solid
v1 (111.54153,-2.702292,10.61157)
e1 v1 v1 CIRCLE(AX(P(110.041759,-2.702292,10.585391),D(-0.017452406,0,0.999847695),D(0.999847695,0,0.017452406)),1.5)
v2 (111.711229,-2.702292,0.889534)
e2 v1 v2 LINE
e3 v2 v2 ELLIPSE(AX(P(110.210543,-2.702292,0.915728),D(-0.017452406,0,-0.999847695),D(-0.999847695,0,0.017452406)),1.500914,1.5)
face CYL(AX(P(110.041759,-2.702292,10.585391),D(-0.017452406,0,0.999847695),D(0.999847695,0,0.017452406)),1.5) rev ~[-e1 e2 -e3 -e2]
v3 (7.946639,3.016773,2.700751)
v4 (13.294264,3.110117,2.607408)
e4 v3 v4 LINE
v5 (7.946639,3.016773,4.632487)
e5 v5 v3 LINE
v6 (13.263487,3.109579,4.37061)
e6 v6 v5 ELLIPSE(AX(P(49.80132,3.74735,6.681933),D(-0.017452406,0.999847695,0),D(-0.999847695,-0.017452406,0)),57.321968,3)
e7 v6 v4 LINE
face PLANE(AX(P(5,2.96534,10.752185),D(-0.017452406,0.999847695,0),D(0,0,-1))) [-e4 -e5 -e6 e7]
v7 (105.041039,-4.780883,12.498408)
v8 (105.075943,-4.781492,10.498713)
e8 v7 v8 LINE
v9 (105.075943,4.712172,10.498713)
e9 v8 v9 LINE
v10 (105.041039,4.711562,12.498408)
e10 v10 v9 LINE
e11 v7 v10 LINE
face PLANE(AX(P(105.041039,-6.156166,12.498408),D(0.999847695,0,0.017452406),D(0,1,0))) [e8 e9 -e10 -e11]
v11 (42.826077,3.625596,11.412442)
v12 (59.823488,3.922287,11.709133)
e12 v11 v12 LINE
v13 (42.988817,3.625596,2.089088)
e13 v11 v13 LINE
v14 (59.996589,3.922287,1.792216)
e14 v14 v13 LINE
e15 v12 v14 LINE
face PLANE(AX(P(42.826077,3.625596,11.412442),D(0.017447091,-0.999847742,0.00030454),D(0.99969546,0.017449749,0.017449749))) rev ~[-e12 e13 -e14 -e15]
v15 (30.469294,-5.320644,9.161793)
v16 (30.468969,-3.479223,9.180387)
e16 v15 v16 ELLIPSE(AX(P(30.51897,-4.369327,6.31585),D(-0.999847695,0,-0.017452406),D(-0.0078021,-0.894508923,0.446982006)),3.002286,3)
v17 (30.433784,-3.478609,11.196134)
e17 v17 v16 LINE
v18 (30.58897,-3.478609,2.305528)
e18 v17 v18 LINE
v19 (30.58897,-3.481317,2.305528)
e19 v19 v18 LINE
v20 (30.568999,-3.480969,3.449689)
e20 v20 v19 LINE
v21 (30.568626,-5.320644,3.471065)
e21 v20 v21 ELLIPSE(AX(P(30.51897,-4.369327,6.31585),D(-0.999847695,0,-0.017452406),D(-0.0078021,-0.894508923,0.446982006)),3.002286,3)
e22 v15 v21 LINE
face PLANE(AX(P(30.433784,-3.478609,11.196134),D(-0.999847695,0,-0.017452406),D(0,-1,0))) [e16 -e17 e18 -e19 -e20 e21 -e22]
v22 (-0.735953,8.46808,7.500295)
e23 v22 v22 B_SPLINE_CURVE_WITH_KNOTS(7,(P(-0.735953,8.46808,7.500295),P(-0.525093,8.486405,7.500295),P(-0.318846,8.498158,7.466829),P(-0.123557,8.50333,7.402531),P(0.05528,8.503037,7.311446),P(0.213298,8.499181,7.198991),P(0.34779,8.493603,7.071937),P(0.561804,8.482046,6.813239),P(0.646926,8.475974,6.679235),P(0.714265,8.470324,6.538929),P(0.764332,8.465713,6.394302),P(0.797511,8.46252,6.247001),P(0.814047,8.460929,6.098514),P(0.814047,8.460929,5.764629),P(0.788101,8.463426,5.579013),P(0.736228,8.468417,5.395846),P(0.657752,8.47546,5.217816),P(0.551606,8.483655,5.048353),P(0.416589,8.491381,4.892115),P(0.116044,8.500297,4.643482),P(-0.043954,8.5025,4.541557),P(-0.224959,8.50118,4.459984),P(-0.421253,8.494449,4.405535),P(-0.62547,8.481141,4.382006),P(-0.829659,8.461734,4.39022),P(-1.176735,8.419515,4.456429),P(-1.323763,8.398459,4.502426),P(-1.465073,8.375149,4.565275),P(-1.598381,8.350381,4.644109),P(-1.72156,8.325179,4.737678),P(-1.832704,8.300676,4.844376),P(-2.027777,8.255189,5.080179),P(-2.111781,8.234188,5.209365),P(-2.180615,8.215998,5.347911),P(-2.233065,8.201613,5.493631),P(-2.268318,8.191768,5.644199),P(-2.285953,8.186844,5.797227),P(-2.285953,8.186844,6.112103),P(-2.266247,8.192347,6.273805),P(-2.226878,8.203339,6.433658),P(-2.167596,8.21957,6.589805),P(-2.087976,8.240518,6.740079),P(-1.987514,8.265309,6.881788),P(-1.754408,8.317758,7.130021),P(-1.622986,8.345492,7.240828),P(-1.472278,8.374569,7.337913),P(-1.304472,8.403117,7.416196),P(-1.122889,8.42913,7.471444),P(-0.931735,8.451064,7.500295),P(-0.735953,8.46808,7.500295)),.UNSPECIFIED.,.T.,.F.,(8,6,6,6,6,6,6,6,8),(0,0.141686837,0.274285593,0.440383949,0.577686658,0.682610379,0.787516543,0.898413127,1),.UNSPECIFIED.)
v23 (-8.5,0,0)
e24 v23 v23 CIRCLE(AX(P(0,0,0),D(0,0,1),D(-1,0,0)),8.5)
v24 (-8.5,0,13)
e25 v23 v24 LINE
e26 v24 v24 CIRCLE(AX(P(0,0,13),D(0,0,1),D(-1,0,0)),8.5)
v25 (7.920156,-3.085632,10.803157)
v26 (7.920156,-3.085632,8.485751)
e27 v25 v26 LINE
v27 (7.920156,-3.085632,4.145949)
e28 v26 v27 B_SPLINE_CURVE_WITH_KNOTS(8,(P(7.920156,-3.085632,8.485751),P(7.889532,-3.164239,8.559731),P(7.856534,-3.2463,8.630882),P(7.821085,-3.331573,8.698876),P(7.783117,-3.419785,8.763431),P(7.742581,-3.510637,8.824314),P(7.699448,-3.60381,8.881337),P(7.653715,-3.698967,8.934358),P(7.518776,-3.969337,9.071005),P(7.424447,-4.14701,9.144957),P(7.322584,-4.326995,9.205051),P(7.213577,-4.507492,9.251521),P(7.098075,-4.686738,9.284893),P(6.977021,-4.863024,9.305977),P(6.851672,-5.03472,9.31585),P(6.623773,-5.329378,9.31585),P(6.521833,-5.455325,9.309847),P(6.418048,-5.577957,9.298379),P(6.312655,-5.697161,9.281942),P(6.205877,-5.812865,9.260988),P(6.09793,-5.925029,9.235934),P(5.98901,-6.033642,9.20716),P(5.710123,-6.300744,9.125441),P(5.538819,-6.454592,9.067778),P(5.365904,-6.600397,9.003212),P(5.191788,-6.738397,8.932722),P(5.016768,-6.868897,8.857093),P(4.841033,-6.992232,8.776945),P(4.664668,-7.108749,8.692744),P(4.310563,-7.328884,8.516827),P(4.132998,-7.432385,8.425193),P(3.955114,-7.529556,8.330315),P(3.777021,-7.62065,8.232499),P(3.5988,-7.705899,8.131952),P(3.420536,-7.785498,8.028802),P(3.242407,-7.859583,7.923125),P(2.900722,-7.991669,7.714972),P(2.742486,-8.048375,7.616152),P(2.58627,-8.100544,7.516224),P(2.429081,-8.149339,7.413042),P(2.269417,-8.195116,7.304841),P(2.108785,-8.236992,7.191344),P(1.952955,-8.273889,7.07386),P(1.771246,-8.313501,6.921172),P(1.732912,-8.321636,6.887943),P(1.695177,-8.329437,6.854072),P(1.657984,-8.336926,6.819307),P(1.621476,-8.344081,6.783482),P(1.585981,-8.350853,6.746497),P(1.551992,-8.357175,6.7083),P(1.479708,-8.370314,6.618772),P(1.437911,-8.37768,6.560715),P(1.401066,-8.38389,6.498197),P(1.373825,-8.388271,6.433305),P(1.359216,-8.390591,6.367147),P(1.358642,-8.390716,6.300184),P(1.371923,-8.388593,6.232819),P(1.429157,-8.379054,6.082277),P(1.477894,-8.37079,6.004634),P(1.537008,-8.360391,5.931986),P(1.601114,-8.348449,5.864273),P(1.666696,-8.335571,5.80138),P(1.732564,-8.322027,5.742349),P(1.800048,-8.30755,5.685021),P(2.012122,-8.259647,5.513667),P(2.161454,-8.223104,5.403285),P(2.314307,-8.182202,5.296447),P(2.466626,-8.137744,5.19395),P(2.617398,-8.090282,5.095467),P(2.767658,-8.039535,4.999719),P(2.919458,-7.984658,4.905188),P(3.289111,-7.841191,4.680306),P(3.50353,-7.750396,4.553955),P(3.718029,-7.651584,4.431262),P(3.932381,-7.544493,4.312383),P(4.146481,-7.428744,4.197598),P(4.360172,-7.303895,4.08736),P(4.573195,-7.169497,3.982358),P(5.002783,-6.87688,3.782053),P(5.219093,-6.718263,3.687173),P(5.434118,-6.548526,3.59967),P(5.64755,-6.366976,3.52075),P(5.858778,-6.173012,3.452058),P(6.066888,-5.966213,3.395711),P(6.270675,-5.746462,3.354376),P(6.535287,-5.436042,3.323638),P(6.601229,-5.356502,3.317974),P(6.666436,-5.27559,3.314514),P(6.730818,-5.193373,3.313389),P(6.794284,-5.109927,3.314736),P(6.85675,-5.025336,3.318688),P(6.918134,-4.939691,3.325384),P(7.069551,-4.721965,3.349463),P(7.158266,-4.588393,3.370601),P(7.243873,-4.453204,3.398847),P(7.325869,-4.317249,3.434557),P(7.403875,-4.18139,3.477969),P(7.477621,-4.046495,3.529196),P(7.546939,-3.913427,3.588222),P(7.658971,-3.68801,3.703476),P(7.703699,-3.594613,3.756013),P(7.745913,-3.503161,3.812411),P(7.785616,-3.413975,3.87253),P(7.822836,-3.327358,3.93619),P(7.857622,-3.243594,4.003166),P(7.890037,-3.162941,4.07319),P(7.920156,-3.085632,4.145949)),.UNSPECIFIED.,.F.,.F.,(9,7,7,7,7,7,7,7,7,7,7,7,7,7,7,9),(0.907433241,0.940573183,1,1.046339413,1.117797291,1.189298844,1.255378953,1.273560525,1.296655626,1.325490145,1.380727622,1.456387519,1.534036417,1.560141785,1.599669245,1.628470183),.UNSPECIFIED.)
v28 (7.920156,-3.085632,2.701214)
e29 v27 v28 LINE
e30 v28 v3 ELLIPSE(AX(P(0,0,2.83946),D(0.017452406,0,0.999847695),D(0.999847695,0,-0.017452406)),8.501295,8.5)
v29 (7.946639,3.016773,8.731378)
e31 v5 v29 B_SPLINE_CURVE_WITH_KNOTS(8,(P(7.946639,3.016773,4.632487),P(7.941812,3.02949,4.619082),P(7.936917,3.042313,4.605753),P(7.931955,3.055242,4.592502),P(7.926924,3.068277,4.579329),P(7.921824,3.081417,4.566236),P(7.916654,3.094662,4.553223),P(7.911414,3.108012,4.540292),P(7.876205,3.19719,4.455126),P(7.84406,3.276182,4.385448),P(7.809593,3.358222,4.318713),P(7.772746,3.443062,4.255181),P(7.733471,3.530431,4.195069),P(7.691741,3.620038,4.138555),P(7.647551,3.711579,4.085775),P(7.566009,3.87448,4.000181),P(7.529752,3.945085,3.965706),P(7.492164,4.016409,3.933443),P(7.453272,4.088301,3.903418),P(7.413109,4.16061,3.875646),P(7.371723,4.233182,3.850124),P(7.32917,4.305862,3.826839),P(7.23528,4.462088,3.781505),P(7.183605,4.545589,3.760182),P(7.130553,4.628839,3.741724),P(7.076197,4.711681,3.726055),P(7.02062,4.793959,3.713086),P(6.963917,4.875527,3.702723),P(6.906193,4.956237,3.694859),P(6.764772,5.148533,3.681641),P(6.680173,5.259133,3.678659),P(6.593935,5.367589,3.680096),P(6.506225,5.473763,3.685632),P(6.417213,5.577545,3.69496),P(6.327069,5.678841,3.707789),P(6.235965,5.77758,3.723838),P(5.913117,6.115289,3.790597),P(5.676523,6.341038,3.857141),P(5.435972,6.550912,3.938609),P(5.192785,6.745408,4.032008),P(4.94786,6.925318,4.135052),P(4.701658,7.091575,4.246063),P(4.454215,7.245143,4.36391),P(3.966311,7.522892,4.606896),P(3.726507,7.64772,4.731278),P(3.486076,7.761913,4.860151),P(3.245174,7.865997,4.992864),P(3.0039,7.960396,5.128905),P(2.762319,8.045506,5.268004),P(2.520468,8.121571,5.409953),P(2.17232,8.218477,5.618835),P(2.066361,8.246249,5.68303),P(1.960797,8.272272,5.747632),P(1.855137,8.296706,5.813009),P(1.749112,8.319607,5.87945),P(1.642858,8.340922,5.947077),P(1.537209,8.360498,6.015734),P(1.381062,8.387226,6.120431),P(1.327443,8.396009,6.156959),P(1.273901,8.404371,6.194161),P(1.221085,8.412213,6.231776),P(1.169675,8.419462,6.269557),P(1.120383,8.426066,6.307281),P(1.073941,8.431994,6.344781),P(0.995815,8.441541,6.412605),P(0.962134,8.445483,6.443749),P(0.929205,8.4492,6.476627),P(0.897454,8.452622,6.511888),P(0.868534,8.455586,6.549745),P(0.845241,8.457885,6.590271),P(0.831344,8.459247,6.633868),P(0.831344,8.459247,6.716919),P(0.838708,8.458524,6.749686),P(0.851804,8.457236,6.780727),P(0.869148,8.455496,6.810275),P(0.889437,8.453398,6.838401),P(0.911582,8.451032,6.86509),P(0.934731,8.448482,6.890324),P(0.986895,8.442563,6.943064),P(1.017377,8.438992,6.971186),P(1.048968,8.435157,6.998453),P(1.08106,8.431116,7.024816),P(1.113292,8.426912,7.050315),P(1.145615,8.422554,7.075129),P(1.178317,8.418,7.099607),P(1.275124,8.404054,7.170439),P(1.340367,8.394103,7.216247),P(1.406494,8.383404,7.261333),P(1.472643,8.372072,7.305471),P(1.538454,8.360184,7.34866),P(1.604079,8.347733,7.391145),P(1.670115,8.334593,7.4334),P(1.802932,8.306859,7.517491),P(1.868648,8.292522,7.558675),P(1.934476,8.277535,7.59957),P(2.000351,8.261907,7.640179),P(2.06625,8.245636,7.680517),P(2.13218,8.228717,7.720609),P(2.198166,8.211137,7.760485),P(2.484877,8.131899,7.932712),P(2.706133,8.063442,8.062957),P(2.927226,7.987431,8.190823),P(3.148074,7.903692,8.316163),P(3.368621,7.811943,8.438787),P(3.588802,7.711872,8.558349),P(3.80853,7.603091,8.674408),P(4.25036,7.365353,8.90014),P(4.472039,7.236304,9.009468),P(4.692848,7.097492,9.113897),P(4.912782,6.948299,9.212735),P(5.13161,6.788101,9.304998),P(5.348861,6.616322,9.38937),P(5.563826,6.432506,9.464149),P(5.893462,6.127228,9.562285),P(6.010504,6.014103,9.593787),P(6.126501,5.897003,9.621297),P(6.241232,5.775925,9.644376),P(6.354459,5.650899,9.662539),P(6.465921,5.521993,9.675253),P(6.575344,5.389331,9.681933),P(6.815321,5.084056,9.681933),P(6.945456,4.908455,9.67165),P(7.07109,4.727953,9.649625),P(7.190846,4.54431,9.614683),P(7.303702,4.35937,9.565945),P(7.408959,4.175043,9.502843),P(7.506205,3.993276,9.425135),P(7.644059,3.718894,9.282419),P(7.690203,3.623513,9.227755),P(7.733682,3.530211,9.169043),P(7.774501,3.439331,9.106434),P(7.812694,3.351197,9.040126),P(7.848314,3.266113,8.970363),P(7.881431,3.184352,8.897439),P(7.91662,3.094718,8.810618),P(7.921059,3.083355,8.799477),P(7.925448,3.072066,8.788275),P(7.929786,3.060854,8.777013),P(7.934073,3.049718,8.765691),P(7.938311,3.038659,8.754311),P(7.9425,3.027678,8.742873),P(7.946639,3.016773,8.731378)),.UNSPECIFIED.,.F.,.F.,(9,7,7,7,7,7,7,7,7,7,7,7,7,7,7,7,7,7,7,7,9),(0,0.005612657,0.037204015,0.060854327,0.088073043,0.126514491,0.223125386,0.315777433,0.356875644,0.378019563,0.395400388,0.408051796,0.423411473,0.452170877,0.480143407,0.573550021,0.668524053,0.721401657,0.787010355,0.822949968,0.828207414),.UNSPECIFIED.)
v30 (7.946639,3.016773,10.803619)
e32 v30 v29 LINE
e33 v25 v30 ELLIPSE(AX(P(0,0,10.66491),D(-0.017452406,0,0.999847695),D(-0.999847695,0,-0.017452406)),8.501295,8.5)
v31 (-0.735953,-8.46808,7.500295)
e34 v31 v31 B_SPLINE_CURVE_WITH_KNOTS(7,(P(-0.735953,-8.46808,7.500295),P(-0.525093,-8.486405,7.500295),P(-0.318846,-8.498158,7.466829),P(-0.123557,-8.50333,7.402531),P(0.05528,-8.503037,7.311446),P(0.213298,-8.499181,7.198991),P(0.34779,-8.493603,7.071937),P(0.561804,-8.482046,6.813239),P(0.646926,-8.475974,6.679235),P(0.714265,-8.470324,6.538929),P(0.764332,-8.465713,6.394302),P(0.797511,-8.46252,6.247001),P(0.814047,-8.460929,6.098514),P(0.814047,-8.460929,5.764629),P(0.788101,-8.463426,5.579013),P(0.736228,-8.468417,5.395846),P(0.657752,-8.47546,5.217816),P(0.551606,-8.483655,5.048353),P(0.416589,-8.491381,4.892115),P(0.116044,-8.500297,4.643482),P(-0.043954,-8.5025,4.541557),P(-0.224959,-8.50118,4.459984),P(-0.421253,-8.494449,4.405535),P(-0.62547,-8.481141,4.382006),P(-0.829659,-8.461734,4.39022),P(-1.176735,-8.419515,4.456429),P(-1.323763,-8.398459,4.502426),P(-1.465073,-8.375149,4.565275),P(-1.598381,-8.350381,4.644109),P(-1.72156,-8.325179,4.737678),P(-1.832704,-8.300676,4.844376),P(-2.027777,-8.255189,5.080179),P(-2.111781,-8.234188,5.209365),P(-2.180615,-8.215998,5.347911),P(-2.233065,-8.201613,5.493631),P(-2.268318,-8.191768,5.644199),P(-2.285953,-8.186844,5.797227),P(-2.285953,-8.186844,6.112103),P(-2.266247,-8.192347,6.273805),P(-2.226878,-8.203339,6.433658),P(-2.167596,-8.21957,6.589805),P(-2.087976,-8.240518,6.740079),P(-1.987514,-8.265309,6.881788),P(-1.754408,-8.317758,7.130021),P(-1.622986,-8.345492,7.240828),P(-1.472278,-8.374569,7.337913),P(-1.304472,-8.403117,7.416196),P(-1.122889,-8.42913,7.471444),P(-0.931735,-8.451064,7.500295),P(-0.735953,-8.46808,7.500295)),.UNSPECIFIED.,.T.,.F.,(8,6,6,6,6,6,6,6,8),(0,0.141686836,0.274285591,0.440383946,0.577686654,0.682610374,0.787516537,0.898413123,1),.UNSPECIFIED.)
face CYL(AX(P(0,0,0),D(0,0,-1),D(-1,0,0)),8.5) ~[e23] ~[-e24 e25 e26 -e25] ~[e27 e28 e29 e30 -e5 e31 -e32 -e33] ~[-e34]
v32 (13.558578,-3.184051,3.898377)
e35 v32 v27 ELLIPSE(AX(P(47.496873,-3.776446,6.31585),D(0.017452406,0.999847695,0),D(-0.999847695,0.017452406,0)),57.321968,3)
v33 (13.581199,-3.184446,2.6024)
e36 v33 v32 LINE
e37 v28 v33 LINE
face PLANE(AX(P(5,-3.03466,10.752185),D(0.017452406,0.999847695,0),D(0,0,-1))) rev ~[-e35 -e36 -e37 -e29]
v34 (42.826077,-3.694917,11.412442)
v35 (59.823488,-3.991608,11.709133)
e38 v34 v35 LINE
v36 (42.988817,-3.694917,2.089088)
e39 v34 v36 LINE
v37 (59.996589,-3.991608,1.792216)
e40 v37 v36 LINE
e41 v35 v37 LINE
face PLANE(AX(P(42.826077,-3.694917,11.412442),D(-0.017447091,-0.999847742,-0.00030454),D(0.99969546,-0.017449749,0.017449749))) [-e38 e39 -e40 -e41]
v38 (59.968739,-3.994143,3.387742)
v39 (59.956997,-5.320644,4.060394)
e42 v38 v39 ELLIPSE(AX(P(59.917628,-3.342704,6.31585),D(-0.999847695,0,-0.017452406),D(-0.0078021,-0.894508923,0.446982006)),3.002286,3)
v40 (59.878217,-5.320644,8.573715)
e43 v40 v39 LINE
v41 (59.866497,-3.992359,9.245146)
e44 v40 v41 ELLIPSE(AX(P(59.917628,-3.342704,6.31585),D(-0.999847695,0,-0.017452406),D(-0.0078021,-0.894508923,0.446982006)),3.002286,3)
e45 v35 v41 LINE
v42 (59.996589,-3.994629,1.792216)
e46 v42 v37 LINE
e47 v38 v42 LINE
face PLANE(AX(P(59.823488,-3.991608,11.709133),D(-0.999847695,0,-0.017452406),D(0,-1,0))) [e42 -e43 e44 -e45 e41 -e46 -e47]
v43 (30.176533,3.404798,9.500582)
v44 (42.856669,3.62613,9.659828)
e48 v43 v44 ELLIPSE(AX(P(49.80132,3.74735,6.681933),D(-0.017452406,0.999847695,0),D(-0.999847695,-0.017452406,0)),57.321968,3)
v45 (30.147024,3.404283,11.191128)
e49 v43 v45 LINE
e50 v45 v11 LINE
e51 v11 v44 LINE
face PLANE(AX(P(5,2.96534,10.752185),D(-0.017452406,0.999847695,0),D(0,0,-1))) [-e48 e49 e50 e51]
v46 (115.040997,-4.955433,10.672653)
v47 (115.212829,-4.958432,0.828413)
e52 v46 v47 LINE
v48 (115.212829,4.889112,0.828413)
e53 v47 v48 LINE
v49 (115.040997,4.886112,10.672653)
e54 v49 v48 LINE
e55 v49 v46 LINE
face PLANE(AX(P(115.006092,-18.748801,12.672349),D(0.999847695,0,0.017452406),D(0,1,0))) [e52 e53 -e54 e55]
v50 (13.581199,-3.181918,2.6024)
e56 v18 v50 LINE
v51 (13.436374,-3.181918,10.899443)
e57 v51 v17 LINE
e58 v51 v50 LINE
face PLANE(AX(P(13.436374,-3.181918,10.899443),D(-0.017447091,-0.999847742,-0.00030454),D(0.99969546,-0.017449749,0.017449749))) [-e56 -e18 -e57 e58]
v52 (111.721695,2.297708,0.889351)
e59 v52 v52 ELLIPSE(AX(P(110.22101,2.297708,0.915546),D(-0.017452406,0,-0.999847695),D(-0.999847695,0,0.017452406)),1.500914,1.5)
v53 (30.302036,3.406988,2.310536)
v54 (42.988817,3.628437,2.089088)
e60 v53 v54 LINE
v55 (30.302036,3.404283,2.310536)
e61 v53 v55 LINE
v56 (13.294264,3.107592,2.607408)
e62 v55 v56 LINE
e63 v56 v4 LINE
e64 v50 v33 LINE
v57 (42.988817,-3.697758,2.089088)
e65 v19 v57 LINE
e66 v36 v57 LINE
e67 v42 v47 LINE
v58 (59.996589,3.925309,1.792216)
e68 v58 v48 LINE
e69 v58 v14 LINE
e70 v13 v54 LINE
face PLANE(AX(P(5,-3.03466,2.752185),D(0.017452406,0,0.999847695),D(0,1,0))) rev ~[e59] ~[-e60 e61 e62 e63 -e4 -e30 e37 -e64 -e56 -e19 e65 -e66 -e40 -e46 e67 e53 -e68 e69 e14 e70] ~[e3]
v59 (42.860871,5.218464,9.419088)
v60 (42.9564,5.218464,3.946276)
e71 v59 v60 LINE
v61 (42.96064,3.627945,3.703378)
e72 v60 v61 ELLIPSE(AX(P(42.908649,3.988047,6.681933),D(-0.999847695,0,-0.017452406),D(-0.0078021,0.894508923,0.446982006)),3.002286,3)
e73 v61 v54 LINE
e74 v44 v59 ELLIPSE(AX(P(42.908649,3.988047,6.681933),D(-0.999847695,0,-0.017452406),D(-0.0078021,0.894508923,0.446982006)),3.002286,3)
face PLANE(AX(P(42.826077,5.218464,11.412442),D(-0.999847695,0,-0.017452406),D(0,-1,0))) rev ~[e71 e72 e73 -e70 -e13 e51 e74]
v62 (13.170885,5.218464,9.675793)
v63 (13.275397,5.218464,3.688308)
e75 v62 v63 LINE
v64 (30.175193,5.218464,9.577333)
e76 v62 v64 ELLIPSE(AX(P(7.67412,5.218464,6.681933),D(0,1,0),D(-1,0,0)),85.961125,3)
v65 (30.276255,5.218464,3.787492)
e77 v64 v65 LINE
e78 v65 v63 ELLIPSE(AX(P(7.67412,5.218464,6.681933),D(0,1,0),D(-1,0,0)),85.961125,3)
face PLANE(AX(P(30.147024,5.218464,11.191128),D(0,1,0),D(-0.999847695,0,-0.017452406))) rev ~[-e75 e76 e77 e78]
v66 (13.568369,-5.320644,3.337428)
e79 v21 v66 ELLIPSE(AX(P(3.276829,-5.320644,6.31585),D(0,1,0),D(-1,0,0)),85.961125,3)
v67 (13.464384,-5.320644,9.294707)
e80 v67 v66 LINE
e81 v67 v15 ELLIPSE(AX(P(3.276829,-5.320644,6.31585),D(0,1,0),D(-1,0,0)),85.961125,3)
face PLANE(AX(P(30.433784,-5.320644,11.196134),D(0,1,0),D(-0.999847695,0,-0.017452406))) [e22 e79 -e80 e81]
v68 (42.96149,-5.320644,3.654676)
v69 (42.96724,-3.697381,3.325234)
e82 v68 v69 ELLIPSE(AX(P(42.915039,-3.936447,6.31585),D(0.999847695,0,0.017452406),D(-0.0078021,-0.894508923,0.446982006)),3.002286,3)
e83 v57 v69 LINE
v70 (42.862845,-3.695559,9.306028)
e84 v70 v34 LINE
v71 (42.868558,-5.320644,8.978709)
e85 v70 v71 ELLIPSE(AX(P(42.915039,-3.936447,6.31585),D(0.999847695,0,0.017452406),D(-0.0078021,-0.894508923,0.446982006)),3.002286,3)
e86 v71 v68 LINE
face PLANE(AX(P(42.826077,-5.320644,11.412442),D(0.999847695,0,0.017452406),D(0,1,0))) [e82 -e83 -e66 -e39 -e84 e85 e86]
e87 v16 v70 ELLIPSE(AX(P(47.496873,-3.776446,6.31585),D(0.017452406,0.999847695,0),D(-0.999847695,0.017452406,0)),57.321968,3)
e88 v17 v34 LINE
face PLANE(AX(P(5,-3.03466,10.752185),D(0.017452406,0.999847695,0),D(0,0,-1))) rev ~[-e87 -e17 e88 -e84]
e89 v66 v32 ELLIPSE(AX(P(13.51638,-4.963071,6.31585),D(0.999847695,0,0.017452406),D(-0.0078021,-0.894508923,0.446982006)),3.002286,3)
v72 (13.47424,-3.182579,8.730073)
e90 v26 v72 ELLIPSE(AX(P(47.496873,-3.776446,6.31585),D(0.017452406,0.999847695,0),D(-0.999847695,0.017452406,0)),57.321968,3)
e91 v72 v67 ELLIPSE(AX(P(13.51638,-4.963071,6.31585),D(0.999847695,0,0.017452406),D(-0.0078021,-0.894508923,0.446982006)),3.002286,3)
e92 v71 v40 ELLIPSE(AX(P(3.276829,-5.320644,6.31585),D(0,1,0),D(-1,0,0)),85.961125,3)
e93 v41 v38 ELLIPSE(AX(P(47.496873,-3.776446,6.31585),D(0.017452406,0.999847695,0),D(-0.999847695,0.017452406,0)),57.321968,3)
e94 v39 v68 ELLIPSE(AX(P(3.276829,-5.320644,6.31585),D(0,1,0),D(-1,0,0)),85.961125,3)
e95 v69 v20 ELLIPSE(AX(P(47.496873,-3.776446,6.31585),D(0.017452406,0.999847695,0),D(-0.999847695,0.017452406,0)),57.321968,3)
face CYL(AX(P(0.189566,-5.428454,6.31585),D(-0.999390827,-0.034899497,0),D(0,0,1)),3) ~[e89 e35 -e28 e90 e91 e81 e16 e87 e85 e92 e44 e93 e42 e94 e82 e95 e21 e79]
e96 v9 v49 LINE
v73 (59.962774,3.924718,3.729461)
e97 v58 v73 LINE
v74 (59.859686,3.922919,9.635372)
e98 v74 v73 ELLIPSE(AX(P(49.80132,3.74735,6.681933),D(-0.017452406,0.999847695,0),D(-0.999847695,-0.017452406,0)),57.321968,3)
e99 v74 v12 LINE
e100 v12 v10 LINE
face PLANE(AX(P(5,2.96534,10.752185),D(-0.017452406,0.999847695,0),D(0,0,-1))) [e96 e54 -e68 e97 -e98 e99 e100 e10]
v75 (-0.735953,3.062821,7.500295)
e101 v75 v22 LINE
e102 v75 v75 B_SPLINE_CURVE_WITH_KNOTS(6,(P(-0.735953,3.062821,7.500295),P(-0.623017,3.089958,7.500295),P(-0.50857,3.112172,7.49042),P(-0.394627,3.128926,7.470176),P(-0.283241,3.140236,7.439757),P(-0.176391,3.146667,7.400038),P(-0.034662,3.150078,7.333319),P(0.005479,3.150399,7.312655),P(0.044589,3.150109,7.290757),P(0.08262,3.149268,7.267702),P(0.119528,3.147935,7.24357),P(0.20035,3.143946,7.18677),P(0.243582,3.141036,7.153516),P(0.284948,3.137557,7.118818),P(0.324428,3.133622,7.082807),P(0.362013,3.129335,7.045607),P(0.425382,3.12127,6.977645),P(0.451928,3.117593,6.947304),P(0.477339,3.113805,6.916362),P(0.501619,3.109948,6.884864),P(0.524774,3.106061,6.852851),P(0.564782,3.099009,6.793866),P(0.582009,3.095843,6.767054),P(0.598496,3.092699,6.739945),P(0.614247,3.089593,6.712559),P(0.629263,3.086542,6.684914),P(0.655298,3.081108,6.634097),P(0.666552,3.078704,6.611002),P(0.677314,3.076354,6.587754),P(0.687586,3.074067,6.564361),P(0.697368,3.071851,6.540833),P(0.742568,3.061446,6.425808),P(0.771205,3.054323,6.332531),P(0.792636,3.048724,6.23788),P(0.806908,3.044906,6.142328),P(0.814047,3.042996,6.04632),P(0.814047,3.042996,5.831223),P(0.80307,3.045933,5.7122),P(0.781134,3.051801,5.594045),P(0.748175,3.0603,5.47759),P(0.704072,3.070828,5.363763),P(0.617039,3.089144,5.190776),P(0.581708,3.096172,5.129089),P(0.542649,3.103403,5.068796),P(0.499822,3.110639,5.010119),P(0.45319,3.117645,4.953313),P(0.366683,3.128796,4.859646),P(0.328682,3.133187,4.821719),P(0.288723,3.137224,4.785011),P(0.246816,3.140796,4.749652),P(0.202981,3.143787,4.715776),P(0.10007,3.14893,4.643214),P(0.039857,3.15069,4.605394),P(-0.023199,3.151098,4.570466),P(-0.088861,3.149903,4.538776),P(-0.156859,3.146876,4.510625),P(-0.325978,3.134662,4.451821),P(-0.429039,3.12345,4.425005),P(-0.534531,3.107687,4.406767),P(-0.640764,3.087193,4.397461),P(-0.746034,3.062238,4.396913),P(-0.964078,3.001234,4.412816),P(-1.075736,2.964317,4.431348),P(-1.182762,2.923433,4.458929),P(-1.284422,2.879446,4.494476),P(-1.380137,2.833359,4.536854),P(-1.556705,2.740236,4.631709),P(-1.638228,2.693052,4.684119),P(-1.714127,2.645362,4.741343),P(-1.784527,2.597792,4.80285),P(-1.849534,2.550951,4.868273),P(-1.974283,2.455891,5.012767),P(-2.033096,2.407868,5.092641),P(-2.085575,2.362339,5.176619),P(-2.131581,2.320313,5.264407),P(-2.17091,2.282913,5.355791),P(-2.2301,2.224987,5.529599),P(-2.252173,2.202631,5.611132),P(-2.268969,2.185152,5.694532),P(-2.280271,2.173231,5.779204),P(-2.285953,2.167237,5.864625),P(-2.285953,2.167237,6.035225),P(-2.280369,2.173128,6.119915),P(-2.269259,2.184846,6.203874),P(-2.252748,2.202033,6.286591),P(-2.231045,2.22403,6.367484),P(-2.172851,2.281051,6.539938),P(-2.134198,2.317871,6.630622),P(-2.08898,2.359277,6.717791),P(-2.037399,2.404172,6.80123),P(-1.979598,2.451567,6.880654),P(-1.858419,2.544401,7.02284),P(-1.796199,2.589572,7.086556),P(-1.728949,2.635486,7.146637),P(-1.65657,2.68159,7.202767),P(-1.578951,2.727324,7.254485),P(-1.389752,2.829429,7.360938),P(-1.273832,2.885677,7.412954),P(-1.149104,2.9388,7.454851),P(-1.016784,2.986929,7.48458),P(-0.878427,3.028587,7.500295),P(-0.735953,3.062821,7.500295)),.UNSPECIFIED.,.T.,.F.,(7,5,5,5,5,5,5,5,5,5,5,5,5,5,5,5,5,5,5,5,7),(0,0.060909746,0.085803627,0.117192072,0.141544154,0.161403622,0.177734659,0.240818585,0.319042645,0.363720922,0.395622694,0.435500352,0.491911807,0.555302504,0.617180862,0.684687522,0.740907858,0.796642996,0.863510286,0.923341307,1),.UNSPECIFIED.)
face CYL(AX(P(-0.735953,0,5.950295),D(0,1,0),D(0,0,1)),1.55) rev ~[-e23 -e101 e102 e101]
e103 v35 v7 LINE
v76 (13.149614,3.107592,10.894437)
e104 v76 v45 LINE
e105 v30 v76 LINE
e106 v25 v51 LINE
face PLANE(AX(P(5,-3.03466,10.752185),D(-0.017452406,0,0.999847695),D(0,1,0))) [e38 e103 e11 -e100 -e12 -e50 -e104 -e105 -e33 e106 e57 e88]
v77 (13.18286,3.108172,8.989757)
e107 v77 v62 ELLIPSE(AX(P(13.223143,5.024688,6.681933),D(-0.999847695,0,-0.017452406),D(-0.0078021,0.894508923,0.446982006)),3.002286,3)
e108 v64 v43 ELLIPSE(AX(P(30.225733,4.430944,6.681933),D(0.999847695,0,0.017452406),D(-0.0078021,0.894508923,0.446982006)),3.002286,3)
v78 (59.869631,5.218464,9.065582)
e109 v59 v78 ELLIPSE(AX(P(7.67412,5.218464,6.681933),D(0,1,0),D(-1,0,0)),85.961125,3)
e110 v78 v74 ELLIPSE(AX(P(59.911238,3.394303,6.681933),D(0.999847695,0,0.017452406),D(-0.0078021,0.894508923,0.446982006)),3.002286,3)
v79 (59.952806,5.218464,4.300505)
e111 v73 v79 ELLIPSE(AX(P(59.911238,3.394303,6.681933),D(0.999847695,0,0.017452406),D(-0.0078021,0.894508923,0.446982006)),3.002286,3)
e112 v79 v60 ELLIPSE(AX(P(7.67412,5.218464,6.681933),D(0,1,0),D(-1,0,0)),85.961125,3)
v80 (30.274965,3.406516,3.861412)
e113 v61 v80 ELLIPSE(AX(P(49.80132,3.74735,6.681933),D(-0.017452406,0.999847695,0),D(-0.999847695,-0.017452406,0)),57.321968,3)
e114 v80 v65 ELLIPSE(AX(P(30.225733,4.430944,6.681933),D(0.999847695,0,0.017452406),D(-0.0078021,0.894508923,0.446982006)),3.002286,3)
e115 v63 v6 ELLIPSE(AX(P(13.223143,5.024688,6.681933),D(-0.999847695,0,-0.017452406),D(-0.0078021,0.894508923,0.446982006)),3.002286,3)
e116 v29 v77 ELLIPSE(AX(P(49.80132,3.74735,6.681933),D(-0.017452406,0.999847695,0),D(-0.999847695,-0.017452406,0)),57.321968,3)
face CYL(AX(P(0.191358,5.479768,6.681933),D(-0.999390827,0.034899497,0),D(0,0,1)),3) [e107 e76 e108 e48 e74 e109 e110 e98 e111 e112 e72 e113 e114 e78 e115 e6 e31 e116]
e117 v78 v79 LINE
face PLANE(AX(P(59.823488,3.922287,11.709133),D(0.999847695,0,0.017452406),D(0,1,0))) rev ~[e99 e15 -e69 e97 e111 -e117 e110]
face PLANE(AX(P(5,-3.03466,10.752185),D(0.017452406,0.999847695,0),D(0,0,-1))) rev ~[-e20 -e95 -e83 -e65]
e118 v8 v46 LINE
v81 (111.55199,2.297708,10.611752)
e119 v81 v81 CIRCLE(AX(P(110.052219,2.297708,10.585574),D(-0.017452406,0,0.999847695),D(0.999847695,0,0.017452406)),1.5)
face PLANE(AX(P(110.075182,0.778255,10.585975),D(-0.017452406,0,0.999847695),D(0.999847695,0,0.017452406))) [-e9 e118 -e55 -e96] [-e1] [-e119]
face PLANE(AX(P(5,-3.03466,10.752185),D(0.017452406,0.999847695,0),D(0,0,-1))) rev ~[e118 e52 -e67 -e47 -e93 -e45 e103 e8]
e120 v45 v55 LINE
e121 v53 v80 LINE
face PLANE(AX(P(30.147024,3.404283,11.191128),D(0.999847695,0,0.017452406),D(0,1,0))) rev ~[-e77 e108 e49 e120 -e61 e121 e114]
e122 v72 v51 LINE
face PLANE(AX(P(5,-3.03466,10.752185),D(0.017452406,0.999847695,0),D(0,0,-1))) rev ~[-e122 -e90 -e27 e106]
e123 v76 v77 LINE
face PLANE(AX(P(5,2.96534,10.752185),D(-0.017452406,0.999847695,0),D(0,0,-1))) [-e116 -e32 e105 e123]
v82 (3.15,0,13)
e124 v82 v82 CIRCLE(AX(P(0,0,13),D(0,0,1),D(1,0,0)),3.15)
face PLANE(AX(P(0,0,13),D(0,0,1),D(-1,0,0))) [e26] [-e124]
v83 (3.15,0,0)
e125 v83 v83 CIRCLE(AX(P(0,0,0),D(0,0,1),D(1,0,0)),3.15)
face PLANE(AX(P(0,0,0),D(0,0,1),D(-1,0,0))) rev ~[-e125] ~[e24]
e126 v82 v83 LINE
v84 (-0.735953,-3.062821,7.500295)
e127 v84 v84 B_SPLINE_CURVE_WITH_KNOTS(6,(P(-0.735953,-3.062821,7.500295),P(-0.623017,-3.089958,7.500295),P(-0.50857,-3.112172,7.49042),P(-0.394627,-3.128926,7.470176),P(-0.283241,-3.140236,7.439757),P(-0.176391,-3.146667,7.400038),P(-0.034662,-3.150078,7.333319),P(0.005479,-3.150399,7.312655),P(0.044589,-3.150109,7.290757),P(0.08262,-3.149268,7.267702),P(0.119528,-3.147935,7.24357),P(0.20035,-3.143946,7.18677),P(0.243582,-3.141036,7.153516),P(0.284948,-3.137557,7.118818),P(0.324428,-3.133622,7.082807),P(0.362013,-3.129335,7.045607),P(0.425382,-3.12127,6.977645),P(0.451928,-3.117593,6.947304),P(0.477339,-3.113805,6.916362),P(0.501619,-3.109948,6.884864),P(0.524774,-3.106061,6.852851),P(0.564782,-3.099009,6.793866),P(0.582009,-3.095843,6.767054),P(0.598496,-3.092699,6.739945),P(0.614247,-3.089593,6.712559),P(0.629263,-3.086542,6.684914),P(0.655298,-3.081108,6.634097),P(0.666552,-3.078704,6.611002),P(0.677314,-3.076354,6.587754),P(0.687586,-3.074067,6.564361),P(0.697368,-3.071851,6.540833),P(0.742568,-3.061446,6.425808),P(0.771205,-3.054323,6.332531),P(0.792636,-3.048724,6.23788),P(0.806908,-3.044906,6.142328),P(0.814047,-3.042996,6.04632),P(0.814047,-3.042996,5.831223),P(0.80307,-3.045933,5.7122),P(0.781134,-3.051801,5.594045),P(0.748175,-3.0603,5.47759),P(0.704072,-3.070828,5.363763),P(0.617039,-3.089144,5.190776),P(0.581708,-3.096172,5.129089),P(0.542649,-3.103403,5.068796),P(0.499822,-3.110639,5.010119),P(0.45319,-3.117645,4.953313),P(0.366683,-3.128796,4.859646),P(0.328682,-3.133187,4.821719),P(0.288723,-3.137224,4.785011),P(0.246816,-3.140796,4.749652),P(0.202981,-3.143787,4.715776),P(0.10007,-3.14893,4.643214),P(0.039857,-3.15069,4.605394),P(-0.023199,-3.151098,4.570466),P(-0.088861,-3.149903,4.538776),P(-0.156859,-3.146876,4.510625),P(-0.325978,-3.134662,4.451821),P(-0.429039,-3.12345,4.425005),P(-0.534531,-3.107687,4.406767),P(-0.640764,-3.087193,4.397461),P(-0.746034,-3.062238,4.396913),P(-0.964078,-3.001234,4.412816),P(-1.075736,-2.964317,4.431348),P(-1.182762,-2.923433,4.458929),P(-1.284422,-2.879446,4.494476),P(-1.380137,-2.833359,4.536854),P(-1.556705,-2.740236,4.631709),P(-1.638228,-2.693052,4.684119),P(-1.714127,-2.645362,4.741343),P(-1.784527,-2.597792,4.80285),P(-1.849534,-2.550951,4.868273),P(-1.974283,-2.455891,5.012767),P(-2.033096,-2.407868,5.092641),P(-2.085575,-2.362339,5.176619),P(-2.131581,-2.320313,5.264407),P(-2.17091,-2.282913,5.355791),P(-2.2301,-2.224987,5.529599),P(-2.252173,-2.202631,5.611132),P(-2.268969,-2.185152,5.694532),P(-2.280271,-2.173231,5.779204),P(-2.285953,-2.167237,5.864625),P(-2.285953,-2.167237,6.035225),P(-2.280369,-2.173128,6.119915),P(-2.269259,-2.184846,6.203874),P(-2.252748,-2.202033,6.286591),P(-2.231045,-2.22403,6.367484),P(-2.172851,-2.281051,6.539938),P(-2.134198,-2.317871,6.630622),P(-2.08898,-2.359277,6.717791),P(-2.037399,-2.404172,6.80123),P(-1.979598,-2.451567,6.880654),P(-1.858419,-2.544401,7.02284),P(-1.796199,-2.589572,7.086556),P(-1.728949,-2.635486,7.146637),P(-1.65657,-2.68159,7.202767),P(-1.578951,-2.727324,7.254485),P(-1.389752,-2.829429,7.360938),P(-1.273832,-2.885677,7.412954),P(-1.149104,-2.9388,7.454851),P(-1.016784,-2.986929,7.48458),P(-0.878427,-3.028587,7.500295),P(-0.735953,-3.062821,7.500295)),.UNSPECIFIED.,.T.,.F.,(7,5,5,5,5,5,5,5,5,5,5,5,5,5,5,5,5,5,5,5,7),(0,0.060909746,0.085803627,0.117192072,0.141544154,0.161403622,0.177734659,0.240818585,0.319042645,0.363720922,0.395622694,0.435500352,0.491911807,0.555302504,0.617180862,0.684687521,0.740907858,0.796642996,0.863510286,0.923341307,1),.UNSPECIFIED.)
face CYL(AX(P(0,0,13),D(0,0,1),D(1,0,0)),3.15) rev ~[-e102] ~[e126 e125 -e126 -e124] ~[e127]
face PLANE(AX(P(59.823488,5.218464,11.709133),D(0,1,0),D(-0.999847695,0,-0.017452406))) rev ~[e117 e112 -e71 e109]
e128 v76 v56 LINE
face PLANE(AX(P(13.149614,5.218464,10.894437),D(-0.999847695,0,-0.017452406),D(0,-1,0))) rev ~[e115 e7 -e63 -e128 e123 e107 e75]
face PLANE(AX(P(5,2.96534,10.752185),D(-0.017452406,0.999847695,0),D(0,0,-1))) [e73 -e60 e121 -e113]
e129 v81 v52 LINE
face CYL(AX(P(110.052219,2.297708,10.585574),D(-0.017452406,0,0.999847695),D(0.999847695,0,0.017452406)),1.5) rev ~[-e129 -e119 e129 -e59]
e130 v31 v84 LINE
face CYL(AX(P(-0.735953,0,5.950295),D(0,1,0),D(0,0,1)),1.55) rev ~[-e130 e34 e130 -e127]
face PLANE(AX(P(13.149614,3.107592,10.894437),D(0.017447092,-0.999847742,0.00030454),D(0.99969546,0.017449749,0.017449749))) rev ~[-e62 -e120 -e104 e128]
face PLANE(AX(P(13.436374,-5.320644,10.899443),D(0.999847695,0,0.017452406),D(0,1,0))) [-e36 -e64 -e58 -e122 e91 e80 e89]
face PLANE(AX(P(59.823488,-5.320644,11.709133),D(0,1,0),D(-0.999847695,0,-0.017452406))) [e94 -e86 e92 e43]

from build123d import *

# Parameters (mm, degrees)
SKETCH2_R           = 8.5
BOSS_EXTRUDE1_DEPTH = 13
SKETCH4_W           = 8
SKETCH4_H           = 6
BOSS_EXTRUDE2_DEPTH = 150
BOSS_EXTRUDE2_DRAFT = -1
SKETCH6_R           = 3
BOSS_EXTRUDE3_DEPTH = 120
SKETCH7_R           = 3
BOSS_EXTRUDE4_DEPTH = 120
CUT_EXTRUDE2_REACH  = 157.776
SKETCH8_R           = 3.15
CUT_EXTRUDE3_REACH  = 157.784
CUT_EXTRUDE6_REACH  = 158.041
SKETCH12_W          = 10
SKETCH12_H          = 2.051798714
CUT_EXTRUDE7_REACH  = 157.784
SKETCH13_W          = 43.706918827
SKETCH13_H          = 28.028328295
SKETCH14_W          = 10
SKETCH14_H          = 13.868841859
CUT_EXTRUDE8_DEPTH  = 2
CUT_EXTRUDE9_REACH  = 118.001
SKETCH15_R          = 1.5
SKETCH16_R          = 1.55
CUT_EXTRUDE10_DEPTH = 10


with BuildPart() as part:
    # Sketch2 → Boss-Extrude1 (new body)
    with BuildSketch(Plane.XY):
        with Locations(Location((0, 0, 0), (0, 0, 180))):
            Circle(SKETCH2_R)
    extrude(amount=BOSS_EXTRUDE1_DEPTH)


with BuildPart() as boss_extrude2_tool:
    # Sketch4 → Boss-Extrude2 (with draft: the straight prism first)
    with BuildSketch(Plane(origin=(5, 0, 0), x_dir=(0, 0, -1), z_dir=(1, 0, 0))):
        with Locations((-6.752185146, -0.034660359)):
            Rectangle(SKETCH4_W, SKETCH4_H)
    extrude(amount=BOSS_EXTRUDE2_DEPTH)
    # Boss-Extrude2: the draft: its side faces are tilted about the plane it starts from
    boss_extrude2_sides = [boss_extrude2_tool.faces().sort_by_distance(p)[0] for p in [
        (80, -0.034660359, 10.752185146),
        (80, -3.034660359, 6.752185146),
        (80, -0.034660359, 2.752185146),
        (80, 2.965339641, 6.752185146),
    ]]
    draft(boss_extrude2_sides, Plane(origin=(5, 0, 0), x_dir=(0, 0, -1), z_dir=(1, 0, 0)), BOSS_EXTRUDE2_DRAFT)


with BuildPart() as part_1:
    add(part.part)

    # Boss-Extrude2: add boss_extrude2_tool
    add(boss_extrude2_tool.part)

    # Sketch6 → Boss-Extrude3 (add)
    with BuildSketch(Plane(origin=(0, 0, 0), x_dir=(0, 0, 1), z_dir=(-0.999390827019096, 0.034899496702494044, 0))):
        with Locations((6.68193283, 5.483107785)):
            Circle(SKETCH6_R)
    extrude(amount=-BOSS_EXTRUDE3_DEPTH)

    # Sketch7 → Boss-Extrude4 (add)
    with BuildSketch(Plane(origin=(0, 0, 0), x_dir=(0, 0, 1), z_dir=(0.9993908270190958, 0.034899496702501046, 0))):
        with Locations((6.315850074, 5.431762479)):
            Circle(SKETCH7_R)
    extrude(amount=BOSS_EXTRUDE4_DEPTH)

    # Sketch8 → Cut-Extrude2 (cut, up to next)
    with BuildSketch(Plane.XY.offset(13), mode=Mode.PRIVATE) as cut_extrude2_sk1:
        Circle(SKETCH8_R)
    cut_extrude2_tool1 = extrude(cut_extrude2_sk1.sketch, amount=-CUT_EXTRUDE2_REACH, mode=Mode.PRIVATE) & part_1.part
    add(cut_extrude2_tool1.solids().sort_by_distance((0, 0, 13))[0], mode=Mode.SUBTRACT)

    # Sketch9 → Cut-Extrude3 (cut, up to next)
    with BuildSketch(Plane(origin=(-0.186099993, 0, 10.661661434), x_dir=(0.9998476951563913, 0, 0.01745240643728355), z_dir=(-0.01745240643728355, 0, 0.9998476951563913)), mode=Mode.PRIVATE) as cut_extrude3_sk1:
        Polygon((13.337744906, 3.107591674), (30.337744906, 3.404282584), (30.337744906, 5.218463822), (13.337744906, 5.218463822), align=None)
    cut_extrude3_tool1 = extrude(cut_extrude3_sk1.sketch, amount=-CUT_EXTRUDE3_REACH, mode=Mode.PRIVATE) & part_1.part
    # Sketch9 → Cut-Extrude3 (cut, up to next)
    with BuildSketch(Plane(origin=(-0.186099993, 0, 10.661661434), x_dir=(0.9998476951563913, 0, 0.01745240643728355), z_dir=(-0.01745240643728355, 0, 0.9998476951563913)), mode=Mode.PRIVATE) as cut_extrude3_sk2:
        Polygon((43.018729252, 3.625596277), (60.018729252, 3.922287186), (60.018729252, 5.218463822), (43.018729252, 5.218463822), align=None)
    cut_extrude3_tool2 = extrude(cut_extrude3_sk2.sketch, amount=-CUT_EXTRUDE3_REACH, mode=Mode.PRIVATE) & part_1.part
    # Sketch9 → Cut-Extrude3 (cut, up to next)
    with BuildSketch(Plane(origin=(-0.186099993, 0, 10.661661434), x_dir=(0.9998476951563913, 0, 0.01745240643728355), z_dir=(-0.01745240643728355, 0, 0.9998476951563913)), mode=Mode.PRIVATE) as cut_extrude3_sk3:
        Polygon((13.624548626, -3.181917807), (30.624548626, -3.478608716), (30.624548626, -5.320643976), (13.624548626, -5.320643976), align=None)
    cut_extrude3_tool3 = extrude(cut_extrude3_sk3.sketch, amount=-CUT_EXTRUDE3_REACH, mode=Mode.PRIVATE) & part_1.part
    # Sketch9 → Cut-Extrude3 (cut, up to next)
    with BuildSketch(Plane(origin=(-0.186099993, 0, 10.661661434), x_dir=(0.9998476951563913, 0, 0.01745240643728355), z_dir=(-0.01745240643728355, 0, 0.9998476951563913)), mode=Mode.PRIVATE) as cut_extrude3_sk4:
        Polygon((43.018729252, -3.694916994), (60.018729252, -3.991607903), (60.018729252, -5.320643976), (43.018729252, -5.320643976), align=None)
    cut_extrude3_tool4 = extrude(cut_extrude3_sk4.sketch, amount=-CUT_EXTRUDE3_REACH, mode=Mode.PRIVATE) & part_1.part
    add(cut_extrude3_tool1.solids().sort_by_distance((21.434183, 4.235332, 11.039045))[0], mode=Mode.SUBTRACT)
    add(cut_extrude3_tool2.solids().sort_by_distance((51.033857, 4.493664, 11.555709))[0], mode=Mode.SUBTRACT)
    add(cut_extrude3_tool3.solids().sort_by_distance((21.723939, -4.323611, 11.044103))[0], mode=Mode.SUBTRACT)
    add(cut_extrude3_tool4.solids().sort_by_distance((51.040328, -4.579471, 11.555822))[0], mode=Mode.SUBTRACT)

    # Cut-Extrude6: up to this plane
    cut_extrude6_end = Plane(origin=(5, -3.034660359, 10.752185146), z_dir=(-0.01745240643728355, -0.9998476951563913, 0))
    # Sketch12 → Cut-Extrude6 (cut, up to the surface)
    with BuildSketch(Plane(origin=(-0.050221498, 2.877187697, 0), x_dir=(0.9998476951563913, 0.01745240643728355, 0), z_dir=(-0.01745240643728355, 0.9998476951563913, 0)), mode=Mode.PRIVATE) as cut_extrude6_sk1:
        with Locations((141.40635612, -10.3349379)):
            Rectangle(SKETCH12_W, SKETCH12_H)
    cut_extrude6_tool1 = split(extrude(cut_extrude6_sk1.sketch, amount=-CUT_EXTRUDE6_REACH, mode=Mode.PRIVATE), bisect_by=cut_extrude6_end, keep=Keep.BOTH, mode=Mode.PRIVATE)
    add(cut_extrude6_tool1.solids().sort_by_distance((141.334598, 5.345069, 10.334938))[0], mode=Mode.SUBTRACT)

    # Cut-Extrude7: up to this plane
    cut_extrude7_end = Plane(origin=(5, 2.965339641, 2.752185146), z_dir=(-0.01745240643728355, 0, -0.9998476951563913))
    # Sketch13 → Cut-Extrude7 (cut, up to the surface)
    with BuildSketch(Plane(origin=(-0.186099993, 0, 10.661661434), x_dir=(0.9998476951563913, 0, 0.01745240643728355), z_dir=(-0.01745240643728355, 0, 0.9998476951563913)), mode=Mode.PRIVATE) as cut_extrude7_sk1:
        with Locations((137.063198602, -4.734636569)):
            Rectangle(SKETCH13_W, SKETCH13_H)
    cut_extrude7_tool1 = split(extrude(cut_extrude7_sk1.sketch, amount=-CUT_EXTRUDE7_REACH, mode=Mode.PRIVATE), bisect_by=cut_extrude7_end, keep=Keep.BOTH, mode=Mode.PRIVATE)
    add(cut_extrude7_tool1.solids().sort_by_distance((136.856223, -4.734637, 13.053744))[0], mode=Mode.SUBTRACT)

    # Sketch14 → Cut-Extrude8 (cut)
    with BuildSketch(Plane(origin=(-0.186099993, 0, 10.661661434), x_dir=(0.9998476951563913, 0, 0.01745240643728355), z_dir=(-0.01745240643728355, 0, 0.9998476951563913))):
        with Locations((110.243167646, 0.778255403)):
            Rectangle(SKETCH14_W, SKETCH14_H)
    extrude(amount=-CUT_EXTRUDE8_DEPTH, mode=Mode.SUBTRACT)

    # Cut-Extrude9: up to this plane
    cut_extrude9_end = Plane(origin=(5, 2.965339641, 2.752185146), z_dir=(-0.01745240643728355, 0, -0.9998476951563913))
    # Sketch15 → Cut-Extrude9 (cut, up to the surface)
    with BuildSketch(Plane(origin=(-0.15119518, 0, 8.661966044), x_dir=(0.9998476951563913, 0, 0.017452406437283588), z_dir=(-0.017452406437283588, 0, 0.9998476951563913)), mode=Mode.PRIVATE) as cut_extrude9_sk1:
        with Locations((110.220200994, 2.297708244)):
            Circle(SKETCH15_R)
    cut_extrude9_tool1 = split(extrude(cut_extrude9_sk1.sketch, amount=-CUT_EXTRUDE9_REACH, mode=Mode.PRIVATE), bisect_by=cut_extrude9_end, keep=Keep.BOTH, mode=Mode.PRIVATE)
    add(cut_extrude9_tool1.solids().sort_by_distance((110.052219, 2.297708, 10.585574))[0], mode=Mode.SUBTRACT)
    # Sketch15 → Cut-Extrude9 (cut, up to the surface)
    with BuildSketch(Plane(origin=(-0.15119518, 0, 8.661966044), x_dir=(0.9998476951563913, 0, 0.017452406437283588), z_dir=(-0.017452406437283588, 0, 0.9998476951563913)), mode=Mode.PRIVATE) as cut_extrude9_sk2:
        with Locations((110.209739188, -2.702291756)):
            Circle(SKETCH15_R)
    cut_extrude9_tool2 = split(extrude(cut_extrude9_sk2.sketch, amount=-CUT_EXTRUDE9_REACH, mode=Mode.PRIVATE), bisect_by=cut_extrude9_end, keep=Keep.BOTH, mode=Mode.PRIVATE)
    add(cut_extrude9_tool2.solids().sort_by_distance((110.041759, -2.702292, 10.585391))[0], mode=Mode.SUBTRACT)

    # Sketch16 → Cut-Extrude10 (cut, symmetric)
    with BuildSketch(Plane(origin=(0, 0, 0), x_dir=(1, 0, 0), z_dir=(0, 1, 0))):
        with Locations(Location((-0.73595313, -5.950294761, 0), (0, 0, 270))):
            Circle(SKETCH16_R)
    extrude(amount=CUT_EXTRUDE10_DEPTH, both=True, mode=Mode.SUBTRACT)


solid = part_1.part
